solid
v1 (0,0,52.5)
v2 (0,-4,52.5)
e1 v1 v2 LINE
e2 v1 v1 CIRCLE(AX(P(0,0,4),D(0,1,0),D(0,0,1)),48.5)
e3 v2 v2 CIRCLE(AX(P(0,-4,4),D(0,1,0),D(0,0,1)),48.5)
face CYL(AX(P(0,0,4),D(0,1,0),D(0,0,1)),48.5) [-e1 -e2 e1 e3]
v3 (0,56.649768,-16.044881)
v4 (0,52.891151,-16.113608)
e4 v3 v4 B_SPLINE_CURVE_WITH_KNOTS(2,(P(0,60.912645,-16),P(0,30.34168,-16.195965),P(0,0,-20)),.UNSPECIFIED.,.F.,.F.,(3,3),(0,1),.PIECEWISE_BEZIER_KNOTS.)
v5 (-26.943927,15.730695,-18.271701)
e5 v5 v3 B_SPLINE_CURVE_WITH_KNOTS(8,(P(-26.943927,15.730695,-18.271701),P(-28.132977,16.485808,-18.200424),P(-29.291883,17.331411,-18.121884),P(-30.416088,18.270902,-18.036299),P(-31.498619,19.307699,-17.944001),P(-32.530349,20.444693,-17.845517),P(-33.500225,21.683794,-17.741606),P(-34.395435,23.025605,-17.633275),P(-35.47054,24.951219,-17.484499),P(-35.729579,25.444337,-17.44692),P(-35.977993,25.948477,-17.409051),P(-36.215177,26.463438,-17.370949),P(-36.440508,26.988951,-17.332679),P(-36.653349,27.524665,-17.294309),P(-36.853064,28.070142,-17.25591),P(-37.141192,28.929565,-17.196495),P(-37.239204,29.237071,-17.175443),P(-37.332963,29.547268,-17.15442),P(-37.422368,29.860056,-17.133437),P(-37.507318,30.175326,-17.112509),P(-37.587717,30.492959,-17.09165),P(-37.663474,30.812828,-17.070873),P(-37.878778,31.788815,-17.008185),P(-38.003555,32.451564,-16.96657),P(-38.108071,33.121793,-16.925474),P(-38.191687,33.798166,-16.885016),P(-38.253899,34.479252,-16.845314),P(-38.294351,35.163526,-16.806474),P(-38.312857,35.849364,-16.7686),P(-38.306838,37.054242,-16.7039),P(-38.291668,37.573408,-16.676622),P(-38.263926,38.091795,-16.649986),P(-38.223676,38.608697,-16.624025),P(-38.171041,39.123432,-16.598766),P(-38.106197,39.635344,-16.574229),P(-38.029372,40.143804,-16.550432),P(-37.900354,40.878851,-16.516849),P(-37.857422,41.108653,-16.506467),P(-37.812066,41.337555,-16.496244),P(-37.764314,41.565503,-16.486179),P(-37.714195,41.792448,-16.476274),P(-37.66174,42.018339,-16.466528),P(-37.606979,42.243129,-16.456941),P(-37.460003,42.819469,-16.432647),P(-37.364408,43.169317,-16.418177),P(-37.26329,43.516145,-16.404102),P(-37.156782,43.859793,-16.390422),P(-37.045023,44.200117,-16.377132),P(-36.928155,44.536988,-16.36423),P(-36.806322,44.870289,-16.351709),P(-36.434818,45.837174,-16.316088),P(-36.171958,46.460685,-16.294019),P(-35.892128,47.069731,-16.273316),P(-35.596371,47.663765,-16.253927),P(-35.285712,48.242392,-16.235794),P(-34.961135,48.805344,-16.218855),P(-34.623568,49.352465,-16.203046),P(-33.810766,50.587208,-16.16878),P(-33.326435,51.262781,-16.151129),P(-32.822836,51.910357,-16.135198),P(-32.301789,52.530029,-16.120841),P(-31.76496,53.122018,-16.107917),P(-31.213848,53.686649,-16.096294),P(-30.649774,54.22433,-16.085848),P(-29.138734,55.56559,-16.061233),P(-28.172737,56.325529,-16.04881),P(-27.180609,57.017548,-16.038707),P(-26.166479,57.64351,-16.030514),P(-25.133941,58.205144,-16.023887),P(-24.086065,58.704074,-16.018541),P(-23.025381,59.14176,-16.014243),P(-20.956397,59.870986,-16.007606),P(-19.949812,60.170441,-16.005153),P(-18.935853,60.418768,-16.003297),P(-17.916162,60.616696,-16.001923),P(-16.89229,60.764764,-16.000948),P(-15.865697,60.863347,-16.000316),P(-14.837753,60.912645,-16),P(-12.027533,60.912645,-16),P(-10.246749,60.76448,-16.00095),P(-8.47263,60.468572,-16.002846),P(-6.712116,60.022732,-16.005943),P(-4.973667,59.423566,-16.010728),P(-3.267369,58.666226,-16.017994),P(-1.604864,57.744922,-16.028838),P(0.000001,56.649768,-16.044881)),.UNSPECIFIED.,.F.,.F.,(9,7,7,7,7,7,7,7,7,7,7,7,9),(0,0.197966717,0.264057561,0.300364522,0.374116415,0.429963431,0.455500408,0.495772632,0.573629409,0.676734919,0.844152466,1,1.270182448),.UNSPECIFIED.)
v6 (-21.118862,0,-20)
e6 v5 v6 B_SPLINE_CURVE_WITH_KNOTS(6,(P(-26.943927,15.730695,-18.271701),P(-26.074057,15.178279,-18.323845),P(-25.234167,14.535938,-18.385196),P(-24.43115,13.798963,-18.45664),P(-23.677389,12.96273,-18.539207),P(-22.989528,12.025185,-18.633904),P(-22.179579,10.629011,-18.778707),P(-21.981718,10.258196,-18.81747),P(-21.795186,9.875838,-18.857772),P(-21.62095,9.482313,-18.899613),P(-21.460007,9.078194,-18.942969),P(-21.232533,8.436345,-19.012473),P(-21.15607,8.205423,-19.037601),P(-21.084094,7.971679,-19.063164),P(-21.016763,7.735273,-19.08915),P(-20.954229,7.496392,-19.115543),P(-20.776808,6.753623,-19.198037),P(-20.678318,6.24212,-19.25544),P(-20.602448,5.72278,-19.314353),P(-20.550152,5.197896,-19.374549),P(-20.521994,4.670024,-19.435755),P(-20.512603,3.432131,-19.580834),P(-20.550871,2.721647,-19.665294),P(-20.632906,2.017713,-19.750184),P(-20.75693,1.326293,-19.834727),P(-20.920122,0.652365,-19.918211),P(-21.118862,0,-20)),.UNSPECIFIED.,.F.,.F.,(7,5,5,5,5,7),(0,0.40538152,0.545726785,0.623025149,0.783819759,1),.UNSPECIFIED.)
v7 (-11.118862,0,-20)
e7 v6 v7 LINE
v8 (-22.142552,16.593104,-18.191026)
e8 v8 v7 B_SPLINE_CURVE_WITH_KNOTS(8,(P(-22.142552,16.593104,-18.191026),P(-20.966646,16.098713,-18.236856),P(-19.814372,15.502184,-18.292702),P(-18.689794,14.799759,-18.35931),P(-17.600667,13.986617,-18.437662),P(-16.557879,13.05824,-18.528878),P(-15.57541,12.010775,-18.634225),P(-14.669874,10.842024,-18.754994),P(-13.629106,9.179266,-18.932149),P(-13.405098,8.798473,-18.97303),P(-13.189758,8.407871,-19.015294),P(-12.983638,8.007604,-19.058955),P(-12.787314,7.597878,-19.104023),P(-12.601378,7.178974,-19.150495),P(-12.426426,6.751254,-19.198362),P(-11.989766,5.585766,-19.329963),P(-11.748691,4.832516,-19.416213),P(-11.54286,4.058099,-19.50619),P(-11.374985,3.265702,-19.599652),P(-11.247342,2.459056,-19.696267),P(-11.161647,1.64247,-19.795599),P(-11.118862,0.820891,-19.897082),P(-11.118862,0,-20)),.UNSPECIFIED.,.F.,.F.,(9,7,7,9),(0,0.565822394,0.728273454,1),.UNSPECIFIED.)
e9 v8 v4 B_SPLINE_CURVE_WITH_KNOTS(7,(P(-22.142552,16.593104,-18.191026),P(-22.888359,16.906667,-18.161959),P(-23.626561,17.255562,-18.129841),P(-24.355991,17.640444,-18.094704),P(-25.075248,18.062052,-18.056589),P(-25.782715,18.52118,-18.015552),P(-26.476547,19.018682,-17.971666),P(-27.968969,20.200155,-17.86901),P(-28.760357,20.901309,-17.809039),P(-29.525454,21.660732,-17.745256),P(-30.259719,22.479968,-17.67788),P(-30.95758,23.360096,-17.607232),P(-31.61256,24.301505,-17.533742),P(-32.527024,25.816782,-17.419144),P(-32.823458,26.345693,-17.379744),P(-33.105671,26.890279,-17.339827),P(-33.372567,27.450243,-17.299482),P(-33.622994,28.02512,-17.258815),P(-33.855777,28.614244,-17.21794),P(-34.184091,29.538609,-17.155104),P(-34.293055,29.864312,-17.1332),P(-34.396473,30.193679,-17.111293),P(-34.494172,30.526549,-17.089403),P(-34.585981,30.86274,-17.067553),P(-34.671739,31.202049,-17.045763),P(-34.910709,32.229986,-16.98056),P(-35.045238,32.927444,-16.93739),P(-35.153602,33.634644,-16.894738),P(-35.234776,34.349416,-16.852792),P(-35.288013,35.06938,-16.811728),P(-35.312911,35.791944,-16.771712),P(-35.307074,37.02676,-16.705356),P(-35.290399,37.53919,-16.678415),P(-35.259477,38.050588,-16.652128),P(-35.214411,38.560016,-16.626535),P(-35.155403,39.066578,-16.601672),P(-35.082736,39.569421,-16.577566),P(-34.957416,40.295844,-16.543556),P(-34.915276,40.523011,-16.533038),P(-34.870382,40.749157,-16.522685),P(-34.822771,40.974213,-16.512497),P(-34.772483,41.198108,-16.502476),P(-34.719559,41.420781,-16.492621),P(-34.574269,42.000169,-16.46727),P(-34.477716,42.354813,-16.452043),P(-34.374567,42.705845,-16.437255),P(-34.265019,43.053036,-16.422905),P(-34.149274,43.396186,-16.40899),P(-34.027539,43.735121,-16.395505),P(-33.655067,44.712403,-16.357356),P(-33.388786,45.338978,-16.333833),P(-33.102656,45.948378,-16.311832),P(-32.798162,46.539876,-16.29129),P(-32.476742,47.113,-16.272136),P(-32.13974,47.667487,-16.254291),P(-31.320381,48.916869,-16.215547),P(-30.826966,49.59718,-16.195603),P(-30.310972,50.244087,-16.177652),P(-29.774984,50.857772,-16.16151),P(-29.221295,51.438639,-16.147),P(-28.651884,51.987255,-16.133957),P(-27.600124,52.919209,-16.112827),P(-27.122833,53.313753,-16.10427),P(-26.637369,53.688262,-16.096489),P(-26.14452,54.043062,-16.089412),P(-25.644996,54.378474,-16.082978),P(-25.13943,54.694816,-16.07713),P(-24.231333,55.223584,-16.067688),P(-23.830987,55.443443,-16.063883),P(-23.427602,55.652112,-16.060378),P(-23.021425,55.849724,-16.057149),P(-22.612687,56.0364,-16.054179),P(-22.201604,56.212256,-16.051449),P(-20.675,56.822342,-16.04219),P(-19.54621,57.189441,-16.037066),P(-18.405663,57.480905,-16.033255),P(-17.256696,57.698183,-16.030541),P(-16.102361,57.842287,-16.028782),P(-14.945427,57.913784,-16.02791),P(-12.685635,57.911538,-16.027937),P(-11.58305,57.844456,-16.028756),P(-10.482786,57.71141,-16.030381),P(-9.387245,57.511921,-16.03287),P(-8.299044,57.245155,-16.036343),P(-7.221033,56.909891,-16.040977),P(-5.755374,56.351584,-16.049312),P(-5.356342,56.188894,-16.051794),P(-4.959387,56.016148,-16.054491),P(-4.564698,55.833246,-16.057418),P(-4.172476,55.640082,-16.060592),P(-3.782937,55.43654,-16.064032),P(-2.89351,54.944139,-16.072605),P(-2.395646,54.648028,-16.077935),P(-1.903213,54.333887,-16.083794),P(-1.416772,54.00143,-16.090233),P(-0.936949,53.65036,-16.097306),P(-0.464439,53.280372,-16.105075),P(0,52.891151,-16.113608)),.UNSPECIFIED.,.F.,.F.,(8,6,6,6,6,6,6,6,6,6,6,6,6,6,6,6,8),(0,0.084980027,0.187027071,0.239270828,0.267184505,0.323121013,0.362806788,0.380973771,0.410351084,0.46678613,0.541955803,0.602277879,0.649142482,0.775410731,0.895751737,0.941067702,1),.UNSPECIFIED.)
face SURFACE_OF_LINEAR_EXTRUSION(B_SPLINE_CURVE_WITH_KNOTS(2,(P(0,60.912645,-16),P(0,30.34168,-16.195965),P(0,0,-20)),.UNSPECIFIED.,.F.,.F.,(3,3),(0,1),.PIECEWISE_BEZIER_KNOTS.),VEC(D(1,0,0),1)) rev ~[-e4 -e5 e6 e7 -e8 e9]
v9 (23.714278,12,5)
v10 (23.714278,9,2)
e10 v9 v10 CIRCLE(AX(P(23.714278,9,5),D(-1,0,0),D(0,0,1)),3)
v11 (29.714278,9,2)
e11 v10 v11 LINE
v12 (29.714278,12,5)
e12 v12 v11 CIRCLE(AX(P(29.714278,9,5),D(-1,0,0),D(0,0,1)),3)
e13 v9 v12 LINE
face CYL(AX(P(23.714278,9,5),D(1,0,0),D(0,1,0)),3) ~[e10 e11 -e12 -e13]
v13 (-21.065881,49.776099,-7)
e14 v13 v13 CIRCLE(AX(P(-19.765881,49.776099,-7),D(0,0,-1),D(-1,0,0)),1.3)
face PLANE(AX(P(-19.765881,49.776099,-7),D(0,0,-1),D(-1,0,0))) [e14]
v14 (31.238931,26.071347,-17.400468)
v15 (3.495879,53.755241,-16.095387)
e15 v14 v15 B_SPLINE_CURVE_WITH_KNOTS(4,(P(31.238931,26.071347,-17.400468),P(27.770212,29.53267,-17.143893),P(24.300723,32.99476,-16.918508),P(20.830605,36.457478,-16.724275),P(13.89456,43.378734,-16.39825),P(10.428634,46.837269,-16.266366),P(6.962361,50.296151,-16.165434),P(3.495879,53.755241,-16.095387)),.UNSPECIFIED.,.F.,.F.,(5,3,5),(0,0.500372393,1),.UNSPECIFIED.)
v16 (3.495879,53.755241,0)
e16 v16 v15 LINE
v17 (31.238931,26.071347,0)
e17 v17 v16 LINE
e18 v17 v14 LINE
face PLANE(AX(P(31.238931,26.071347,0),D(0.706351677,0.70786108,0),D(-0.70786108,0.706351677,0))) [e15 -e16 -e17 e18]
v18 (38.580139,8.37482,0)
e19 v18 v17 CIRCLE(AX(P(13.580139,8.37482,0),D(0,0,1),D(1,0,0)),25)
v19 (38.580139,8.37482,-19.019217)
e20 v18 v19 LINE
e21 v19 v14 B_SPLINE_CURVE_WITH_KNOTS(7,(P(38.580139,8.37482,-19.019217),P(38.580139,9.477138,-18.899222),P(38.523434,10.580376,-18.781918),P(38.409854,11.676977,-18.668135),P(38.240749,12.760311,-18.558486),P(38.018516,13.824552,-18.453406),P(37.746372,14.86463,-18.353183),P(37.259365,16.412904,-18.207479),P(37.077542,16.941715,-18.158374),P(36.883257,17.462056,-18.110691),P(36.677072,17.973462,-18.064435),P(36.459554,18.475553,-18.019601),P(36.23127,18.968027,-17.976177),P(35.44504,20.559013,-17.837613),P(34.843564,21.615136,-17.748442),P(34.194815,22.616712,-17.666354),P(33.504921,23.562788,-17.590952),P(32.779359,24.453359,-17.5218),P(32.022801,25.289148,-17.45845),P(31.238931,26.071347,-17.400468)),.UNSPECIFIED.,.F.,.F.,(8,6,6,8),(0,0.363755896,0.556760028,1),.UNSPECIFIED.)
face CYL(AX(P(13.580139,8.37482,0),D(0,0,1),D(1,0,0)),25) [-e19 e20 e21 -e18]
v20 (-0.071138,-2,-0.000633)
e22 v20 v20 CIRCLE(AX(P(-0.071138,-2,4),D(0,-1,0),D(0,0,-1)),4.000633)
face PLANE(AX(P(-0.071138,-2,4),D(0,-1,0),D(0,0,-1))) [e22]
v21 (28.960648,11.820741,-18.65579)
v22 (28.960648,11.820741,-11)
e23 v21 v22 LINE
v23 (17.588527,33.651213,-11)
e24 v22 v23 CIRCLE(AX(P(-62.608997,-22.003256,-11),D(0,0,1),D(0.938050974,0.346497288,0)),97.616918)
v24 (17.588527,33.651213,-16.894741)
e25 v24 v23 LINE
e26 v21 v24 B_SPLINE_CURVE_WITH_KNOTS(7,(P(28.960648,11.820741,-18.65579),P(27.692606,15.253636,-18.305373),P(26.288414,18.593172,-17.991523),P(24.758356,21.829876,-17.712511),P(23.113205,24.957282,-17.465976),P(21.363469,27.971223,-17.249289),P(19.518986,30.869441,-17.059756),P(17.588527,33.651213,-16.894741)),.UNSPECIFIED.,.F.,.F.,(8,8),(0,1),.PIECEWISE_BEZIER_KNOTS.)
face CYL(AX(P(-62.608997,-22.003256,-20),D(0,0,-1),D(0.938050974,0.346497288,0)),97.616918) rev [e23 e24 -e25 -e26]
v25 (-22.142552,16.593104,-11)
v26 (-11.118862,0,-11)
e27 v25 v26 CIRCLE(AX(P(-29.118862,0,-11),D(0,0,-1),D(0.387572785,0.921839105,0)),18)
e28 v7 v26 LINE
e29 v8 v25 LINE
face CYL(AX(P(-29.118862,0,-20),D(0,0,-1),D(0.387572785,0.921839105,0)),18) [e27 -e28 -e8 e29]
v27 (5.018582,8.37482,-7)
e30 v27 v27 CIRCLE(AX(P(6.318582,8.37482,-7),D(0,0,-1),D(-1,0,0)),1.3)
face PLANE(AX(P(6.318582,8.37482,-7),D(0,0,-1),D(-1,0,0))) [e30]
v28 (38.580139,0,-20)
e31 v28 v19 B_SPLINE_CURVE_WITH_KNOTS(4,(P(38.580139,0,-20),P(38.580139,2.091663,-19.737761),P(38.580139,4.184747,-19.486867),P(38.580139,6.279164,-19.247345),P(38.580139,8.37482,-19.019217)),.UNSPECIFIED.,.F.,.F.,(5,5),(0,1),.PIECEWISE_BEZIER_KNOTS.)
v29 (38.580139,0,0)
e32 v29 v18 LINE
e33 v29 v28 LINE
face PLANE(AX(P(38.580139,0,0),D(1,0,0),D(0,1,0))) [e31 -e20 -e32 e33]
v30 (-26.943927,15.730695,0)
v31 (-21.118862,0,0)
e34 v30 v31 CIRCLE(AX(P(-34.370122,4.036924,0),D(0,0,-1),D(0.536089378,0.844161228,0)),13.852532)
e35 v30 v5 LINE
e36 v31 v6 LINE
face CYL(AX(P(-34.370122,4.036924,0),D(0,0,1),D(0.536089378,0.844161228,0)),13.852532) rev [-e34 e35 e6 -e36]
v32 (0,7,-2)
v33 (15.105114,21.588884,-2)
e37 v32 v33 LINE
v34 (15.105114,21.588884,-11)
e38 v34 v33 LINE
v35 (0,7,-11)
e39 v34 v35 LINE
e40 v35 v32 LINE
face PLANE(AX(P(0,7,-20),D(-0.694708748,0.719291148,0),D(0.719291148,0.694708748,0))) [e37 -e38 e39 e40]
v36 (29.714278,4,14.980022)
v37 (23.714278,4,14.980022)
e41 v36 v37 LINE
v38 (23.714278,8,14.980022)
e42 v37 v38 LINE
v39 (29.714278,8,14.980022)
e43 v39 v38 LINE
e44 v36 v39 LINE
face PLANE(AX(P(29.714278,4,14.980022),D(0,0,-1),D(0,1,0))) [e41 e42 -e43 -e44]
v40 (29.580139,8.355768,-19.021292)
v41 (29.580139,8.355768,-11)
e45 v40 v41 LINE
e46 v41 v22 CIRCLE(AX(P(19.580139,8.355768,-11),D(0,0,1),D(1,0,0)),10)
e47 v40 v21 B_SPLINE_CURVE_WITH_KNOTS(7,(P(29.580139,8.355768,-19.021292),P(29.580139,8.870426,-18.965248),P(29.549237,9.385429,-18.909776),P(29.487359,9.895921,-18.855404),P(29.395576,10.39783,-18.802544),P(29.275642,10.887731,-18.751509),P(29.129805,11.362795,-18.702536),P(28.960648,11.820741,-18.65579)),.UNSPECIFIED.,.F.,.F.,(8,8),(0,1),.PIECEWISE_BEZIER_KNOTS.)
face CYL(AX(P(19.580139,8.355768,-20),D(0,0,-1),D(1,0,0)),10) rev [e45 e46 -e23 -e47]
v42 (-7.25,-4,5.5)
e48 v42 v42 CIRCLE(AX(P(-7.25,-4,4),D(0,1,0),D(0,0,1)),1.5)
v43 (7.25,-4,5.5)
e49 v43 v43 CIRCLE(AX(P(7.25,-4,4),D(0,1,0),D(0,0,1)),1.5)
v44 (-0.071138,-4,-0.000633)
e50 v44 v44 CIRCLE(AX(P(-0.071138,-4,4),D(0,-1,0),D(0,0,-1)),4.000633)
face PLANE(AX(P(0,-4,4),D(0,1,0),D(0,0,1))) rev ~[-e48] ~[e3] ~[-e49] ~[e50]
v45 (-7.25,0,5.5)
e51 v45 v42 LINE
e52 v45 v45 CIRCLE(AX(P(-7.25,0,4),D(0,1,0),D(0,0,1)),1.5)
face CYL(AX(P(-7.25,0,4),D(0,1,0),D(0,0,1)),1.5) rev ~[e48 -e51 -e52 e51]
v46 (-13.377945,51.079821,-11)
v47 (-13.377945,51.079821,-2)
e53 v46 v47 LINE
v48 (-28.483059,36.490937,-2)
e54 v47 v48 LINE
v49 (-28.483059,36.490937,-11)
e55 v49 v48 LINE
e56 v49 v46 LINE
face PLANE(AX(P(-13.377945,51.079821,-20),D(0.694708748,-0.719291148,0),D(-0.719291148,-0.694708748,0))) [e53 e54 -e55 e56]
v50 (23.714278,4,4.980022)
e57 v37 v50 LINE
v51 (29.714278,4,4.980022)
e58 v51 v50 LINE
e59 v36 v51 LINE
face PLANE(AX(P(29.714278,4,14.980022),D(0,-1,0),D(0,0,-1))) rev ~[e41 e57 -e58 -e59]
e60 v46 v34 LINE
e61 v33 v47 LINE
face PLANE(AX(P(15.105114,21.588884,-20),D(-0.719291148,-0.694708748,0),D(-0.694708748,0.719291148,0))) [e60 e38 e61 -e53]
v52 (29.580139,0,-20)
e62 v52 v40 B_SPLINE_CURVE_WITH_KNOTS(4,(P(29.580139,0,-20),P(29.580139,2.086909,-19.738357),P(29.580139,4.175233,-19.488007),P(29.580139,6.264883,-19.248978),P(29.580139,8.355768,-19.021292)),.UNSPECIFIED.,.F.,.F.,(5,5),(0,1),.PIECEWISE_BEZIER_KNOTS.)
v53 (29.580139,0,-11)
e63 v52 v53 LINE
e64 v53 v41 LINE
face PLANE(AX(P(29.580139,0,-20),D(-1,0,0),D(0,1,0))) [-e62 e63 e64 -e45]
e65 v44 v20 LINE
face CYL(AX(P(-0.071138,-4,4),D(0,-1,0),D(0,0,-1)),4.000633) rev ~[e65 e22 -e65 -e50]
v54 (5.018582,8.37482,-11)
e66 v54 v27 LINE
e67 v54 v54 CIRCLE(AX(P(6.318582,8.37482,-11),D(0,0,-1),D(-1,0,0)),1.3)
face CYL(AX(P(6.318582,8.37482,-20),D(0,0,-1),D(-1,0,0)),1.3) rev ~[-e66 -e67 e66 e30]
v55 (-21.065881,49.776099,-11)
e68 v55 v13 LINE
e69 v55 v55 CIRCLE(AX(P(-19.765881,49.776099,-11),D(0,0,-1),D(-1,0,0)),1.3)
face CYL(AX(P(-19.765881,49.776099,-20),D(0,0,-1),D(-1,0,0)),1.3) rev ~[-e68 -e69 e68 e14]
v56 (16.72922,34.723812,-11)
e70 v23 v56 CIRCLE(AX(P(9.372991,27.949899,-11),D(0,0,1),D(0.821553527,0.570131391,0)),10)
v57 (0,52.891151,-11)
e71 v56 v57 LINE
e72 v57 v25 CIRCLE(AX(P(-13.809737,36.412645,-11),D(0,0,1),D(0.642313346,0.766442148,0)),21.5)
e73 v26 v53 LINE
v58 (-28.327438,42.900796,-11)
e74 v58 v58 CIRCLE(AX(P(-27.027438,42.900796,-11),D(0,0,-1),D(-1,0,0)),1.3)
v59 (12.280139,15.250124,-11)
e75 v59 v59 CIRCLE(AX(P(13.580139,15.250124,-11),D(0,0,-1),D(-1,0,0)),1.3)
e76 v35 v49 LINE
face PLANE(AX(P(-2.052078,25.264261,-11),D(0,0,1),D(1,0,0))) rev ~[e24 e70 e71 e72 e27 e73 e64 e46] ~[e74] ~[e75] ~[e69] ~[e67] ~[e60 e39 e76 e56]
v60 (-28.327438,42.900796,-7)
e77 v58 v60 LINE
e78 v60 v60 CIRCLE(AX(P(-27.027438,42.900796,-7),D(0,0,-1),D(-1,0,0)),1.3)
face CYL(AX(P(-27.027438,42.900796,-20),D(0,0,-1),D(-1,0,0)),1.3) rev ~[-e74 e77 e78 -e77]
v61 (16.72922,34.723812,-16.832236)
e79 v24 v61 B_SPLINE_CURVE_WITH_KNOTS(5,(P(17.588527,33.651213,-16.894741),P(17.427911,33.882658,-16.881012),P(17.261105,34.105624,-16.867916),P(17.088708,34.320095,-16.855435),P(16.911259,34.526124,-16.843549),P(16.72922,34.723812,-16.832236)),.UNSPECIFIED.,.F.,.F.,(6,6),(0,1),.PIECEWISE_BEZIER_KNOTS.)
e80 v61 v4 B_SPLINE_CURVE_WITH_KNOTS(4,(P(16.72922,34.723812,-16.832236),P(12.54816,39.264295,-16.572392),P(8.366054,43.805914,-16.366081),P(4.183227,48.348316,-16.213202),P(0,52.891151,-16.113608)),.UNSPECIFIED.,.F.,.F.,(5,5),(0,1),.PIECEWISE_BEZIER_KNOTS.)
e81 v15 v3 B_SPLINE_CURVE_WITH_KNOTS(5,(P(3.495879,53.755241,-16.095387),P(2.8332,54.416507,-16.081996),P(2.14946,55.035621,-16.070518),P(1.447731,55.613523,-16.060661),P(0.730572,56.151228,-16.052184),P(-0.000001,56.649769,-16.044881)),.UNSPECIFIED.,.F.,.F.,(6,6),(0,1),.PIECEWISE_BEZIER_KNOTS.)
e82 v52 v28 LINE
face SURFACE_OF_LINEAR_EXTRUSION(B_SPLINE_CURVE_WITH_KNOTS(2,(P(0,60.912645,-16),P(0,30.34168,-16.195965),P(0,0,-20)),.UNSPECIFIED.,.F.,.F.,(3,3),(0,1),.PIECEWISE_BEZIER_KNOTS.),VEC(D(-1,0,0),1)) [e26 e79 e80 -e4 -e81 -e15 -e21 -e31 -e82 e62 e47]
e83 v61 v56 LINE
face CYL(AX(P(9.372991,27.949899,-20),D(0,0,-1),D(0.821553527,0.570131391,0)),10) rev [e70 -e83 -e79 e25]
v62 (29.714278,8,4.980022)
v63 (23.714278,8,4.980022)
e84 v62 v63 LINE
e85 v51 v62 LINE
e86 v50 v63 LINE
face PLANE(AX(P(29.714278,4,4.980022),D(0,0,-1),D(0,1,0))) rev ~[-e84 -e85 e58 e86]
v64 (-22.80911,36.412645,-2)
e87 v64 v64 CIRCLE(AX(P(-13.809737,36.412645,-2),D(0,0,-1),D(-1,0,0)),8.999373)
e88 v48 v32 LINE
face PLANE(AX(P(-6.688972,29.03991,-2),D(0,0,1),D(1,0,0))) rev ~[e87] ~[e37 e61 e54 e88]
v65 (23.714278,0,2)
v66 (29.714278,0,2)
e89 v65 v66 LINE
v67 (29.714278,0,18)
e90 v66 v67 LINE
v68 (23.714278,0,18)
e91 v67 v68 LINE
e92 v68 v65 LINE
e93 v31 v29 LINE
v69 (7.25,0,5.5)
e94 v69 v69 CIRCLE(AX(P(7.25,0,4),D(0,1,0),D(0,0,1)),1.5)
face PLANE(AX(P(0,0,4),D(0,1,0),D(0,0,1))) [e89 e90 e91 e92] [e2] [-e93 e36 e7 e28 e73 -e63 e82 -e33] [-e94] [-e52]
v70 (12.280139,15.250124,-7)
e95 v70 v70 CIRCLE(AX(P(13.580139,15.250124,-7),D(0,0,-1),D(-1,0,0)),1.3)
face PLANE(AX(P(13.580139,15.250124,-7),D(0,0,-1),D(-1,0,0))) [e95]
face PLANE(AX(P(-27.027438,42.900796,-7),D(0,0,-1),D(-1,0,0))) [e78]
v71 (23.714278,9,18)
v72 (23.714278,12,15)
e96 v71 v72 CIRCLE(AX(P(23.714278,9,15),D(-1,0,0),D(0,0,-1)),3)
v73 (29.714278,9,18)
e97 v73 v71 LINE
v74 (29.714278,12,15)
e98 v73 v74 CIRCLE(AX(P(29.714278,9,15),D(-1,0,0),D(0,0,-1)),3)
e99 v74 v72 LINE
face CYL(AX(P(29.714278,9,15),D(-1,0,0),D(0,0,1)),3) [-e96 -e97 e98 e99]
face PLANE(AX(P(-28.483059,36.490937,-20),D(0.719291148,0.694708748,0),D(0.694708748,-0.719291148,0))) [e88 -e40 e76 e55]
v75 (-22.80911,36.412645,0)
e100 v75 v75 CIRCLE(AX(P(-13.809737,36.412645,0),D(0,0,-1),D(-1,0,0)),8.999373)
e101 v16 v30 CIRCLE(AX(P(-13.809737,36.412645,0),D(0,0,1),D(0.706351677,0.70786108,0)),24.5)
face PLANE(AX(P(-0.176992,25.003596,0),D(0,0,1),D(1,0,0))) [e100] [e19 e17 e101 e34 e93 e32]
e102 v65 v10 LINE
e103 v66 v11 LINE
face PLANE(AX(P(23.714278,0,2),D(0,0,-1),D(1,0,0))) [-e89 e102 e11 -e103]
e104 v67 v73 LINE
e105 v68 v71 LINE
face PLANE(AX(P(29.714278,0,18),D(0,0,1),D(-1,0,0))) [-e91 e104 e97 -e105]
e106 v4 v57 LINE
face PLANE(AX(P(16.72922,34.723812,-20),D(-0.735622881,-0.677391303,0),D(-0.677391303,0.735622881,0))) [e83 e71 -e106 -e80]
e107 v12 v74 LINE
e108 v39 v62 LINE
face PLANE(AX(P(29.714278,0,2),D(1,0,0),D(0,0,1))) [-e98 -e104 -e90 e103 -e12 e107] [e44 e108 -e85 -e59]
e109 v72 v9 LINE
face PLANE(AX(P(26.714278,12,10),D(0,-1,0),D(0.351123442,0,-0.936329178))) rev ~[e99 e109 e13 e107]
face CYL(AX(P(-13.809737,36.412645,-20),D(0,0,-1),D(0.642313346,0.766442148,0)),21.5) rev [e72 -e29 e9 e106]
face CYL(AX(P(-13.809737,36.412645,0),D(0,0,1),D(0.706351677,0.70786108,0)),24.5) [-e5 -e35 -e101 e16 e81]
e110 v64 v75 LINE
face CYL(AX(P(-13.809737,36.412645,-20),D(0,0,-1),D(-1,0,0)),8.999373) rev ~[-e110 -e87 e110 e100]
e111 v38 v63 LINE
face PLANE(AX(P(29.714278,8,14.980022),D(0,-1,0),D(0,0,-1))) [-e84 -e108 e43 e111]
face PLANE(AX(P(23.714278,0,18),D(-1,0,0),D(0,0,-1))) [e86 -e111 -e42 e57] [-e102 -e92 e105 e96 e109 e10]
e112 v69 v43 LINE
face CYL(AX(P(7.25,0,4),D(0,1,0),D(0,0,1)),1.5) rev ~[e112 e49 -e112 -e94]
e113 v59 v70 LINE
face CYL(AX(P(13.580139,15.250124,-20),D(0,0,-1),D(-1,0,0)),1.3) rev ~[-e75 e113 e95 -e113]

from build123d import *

# Parameters (mm, degrees)
IZIM2_R                     = 48.5
IZIM2_R_2                   = 1.5
Y_KSEKLIK_EKSTR_ZYON1_DEPTH = 4
Y_KSEKLIK_EKSTR_ZYON2_DEPTH = 20
KES_EKSTR_ZYON2_DEPTH       = 9
KES_EKSTR_ZYON4_DEPTH       = 18
IZIM8_R                     = 8.999373408
KES_EKSTR_ZYON6_DEPTH       = 20
IZIM10_R                    = 1.3
KES_EKSTR_ZYON7_DEPTH       = 13
Y_KSEKLIK_EKSTR_ZYON3_DEPTH = 12
RADYUS1_R                   = 3
RADYUS2_R                   = 3
IZIM11_W                    = 10
IZIM11_H                    = 4
KES_EKSTR_ZYON8_DEPTH       = 6
IZIM12_R                    = 4.00063253
KES_EKSTR_ZYON9_DEPTH       = 2
KES_EKSTR_ZYON10_DEPTH      = 40
KES_EKSTR_ZYON10_DEPTH_BACK = 40


with BuildPart() as part:
    # Çizim2 → Yükseklik-Ekstrüzyon1 (new body)
    with BuildSketch(Plane(origin=(0, 0, 0), x_dir=(1, 0, 0), z_dir=(0, 1, 0))):
        with Locations(Location((0, -4, 0), (0, 0, 270))):
            Circle(IZIM2_R)
        with Locations(Location((7.25, -4, 0), (0, 0, 270))):
            Circle(IZIM2_R_2, mode=Mode.SUBTRACT)
        with Locations(Location((-7.25, -4, 0), (0, 0, 270))):
            Circle(IZIM2_R_2, mode=Mode.SUBTRACT)
    extrude(amount=-Y_KSEKLIK_EKSTR_ZYON1_DEPTH)

    # Çizim3 → Yükseklik-Ekstrüzyon2 (add)
    with BuildSketch(Plane.XY):
        with BuildLine():
            Line((31.238930549, 26.071347433), (3.495879159, 53.755241116))
            ThreePointArc((3.495879159, 53.755241116), (-32.936073069, 51.72385839), (-26.943926702, 15.730694583))
            ThreePointArc((-26.943926702, 15.730694583), (-21.379626349, 8.847295043), (-21.118861947, 0))
            Line((-21.118861947, 0), (-8.860527496, 0))
            Line((-8.860527496, 0), (38.580138623, 0))
            Line((38.580138623, 0), (38.580138623, 8.374820438))
            ThreePointArc((38.580138623, 8.374820438), (36.672018128, 17.954230697), (31.238930549, 26.071347433))
        make_face()
    extrude(amount=-Y_KSEKLIK_EKSTR_ZYON2_DEPTH)

    # Çizim5 → Kes-Ekstrüzyon2 (cut)
    with BuildSketch(Plane(origin=(0, 0, -20), x_dir=(-1, 0, 0), z_dir=(0, 0, -1))):
        with BuildLine():
            Line((-29.580138623, 0), (-29.580138623, 8.355768388))
            ThreePointArc((-29.580138623, 8.355768388), (-29.424047841, 10.115726146), (-28.960648361, 11.820741267))
            ThreePointArc((-28.960648361, 11.820741267), (-23.965436041, 23.095860189), (-17.588526551, 33.651213249))
            ThreePointArc((-17.588526551, 33.651213249), (-17.177321901, 34.202292772), (-16.7292201, 34.72381236))
            Line((-16.7292201, 34.72381236), (0, 52.891150841))
            ThreePointArc((0, 52.891150841), (32.164197471, 47.609241385), (22.142551812, 16.593103896))
            ThreePointArc((22.142551812, 16.593103896), (14.125970591, 9.960582753), (11.118861947, 0))
            Line((11.118861947, 0), (-29.580138623, 0))
        make_face()
    extrude(amount=-KES_EKSTR_ZYON2_DEPTH, mode=Mode.SUBTRACT)

    # Çizim7 → Kes-Ekstrüzyon4 (cut)
    with BuildSketch(Plane(origin=(0, 0, -20), x_dir=(-1, 0, 0), z_dir=(0, 0, -1))):
        Polygon((28.483058649, 36.490937082), (0, 7), (-15.105114115, 21.588883698), (13.377944534, 51.079820781), align=None)
    extrude(amount=-KES_EKSTR_ZYON4_DEPTH, mode=Mode.SUBTRACT)

    # Çizim8 → Kes-Ekstrüzyon6 (cut)
    with BuildSketch(Plane(origin=(0, 0, -20), x_dir=(-1, 0, 0), z_dir=(0, 0, -1))):
        with Locations((13.809736929, 36.412644661)):
            Circle(IZIM8_R)
    extrude(amount=-KES_EKSTR_ZYON6_DEPTH, mode=Mode.SUBTRACT)

    # Çizim10 → Kes-Ekstrüzyon7 (cut)
    with BuildSketch(Plane(origin=(0, 0, -20), x_dir=(-1, 0, 0), z_dir=(0, 0, -1))):
        with Locations((-13.580138623, 15.2501239)):
            Circle(IZIM10_R)
        with Locations((-6.318582157, 8.374820438)):
            Circle(IZIM10_R)
        with Locations((19.765881259, 49.77609902)):
            Circle(IZIM10_R)
        with Locations((27.027437725, 42.900795558)):
            Circle(IZIM10_R)
    extrude(amount=-KES_EKSTR_ZYON7_DEPTH, mode=Mode.SUBTRACT)

    # 3B Çizim1 → Yükseklik-Ekstrüzyon3 (add)
    with BuildSketch(Plane(origin=(29.714278279, 0, 2), x_dir=(-0.35112344158839165, 0, 0.9363291775690447), z_dir=(0, 1, 0))):
        Polygon((0, 0), (14.981266841, 5.617975065), (17.088007491, 0), (2.10674065, -5.617975065), align=None)
    extrude(amount=Y_KSEKLIK_EKSTR_ZYON3_DEPTH)

    # Radyus1
    radyus1_edges = [part.edges().sort_by_distance(p)[0] for p in [
        (26.714278279, 12, 18),
    ]]
    fillet(radyus1_edges, radius=RADYUS1_R)

    # Radyus2
    radyus2_edges = [part.edges().sort_by_distance(p)[0] for p in [
        (26.714278279, 12, 2),
    ]]
    fillet(radyus2_edges, radius=RADYUS2_R)

    # Çizim11 → Kes-Ekstrüzyon8 (cut)
    with BuildSketch(Plane(origin=(29.714278279, 0, 0), x_dir=(0, 0, -1), z_dir=(1, 0, 0))):
        with Locations((-9.980022365, 6)):
            Rectangle(IZIM11_W, IZIM11_H)
    extrude(amount=-KES_EKSTR_ZYON8_DEPTH, mode=Mode.SUBTRACT)

    # Çizim12 → Kes-Ekstrüzyon9 (cut)
    with BuildSketch(Plane(origin=(0, -4, 0), x_dir=(-1, 0, 0), z_dir=(0, -1, 0))):
        with Locations(Location((0.071138185, -4, 0), (0, 0, 90))):
            Circle(IZIM12_R)
    extrude(amount=-KES_EKSTR_ZYON9_DEPTH, mode=Mode.SUBTRACT)

    # Çizim13 → Kes-Ekstrüzyon10 (cut, two sides)
    with BuildSketch(Plane(origin=(0, 0, 0), x_dir=(0, 0, -1), z_dir=(1, 0, 0))) as kes_ekstr_zyon10_sk:
        with BuildLine():
            Line((16, 60.912644661), (25.8774704, 60.912644661))
            Line((25.8774704, 60.912644661), (25.8774704, 0))
            Line((25.8774704, 0), (20, 0))
            add(Edge.make_bspline(
                [(16, 60.912644661), (16.195964828, 30.341679785), (20, 0)],
                knots=[0, 0, 0, 1, 1, 1], degree=2))
        make_face()
    extrude(amount=KES_EKSTR_ZYON10_DEPTH, mode=Mode.SUBTRACT)
    extrude(kes_ekstr_zyon10_sk.sketch, amount=-KES_EKSTR_ZYON10_DEPTH_BACK, mode=Mode.SUBTRACT)


solid = part.part
